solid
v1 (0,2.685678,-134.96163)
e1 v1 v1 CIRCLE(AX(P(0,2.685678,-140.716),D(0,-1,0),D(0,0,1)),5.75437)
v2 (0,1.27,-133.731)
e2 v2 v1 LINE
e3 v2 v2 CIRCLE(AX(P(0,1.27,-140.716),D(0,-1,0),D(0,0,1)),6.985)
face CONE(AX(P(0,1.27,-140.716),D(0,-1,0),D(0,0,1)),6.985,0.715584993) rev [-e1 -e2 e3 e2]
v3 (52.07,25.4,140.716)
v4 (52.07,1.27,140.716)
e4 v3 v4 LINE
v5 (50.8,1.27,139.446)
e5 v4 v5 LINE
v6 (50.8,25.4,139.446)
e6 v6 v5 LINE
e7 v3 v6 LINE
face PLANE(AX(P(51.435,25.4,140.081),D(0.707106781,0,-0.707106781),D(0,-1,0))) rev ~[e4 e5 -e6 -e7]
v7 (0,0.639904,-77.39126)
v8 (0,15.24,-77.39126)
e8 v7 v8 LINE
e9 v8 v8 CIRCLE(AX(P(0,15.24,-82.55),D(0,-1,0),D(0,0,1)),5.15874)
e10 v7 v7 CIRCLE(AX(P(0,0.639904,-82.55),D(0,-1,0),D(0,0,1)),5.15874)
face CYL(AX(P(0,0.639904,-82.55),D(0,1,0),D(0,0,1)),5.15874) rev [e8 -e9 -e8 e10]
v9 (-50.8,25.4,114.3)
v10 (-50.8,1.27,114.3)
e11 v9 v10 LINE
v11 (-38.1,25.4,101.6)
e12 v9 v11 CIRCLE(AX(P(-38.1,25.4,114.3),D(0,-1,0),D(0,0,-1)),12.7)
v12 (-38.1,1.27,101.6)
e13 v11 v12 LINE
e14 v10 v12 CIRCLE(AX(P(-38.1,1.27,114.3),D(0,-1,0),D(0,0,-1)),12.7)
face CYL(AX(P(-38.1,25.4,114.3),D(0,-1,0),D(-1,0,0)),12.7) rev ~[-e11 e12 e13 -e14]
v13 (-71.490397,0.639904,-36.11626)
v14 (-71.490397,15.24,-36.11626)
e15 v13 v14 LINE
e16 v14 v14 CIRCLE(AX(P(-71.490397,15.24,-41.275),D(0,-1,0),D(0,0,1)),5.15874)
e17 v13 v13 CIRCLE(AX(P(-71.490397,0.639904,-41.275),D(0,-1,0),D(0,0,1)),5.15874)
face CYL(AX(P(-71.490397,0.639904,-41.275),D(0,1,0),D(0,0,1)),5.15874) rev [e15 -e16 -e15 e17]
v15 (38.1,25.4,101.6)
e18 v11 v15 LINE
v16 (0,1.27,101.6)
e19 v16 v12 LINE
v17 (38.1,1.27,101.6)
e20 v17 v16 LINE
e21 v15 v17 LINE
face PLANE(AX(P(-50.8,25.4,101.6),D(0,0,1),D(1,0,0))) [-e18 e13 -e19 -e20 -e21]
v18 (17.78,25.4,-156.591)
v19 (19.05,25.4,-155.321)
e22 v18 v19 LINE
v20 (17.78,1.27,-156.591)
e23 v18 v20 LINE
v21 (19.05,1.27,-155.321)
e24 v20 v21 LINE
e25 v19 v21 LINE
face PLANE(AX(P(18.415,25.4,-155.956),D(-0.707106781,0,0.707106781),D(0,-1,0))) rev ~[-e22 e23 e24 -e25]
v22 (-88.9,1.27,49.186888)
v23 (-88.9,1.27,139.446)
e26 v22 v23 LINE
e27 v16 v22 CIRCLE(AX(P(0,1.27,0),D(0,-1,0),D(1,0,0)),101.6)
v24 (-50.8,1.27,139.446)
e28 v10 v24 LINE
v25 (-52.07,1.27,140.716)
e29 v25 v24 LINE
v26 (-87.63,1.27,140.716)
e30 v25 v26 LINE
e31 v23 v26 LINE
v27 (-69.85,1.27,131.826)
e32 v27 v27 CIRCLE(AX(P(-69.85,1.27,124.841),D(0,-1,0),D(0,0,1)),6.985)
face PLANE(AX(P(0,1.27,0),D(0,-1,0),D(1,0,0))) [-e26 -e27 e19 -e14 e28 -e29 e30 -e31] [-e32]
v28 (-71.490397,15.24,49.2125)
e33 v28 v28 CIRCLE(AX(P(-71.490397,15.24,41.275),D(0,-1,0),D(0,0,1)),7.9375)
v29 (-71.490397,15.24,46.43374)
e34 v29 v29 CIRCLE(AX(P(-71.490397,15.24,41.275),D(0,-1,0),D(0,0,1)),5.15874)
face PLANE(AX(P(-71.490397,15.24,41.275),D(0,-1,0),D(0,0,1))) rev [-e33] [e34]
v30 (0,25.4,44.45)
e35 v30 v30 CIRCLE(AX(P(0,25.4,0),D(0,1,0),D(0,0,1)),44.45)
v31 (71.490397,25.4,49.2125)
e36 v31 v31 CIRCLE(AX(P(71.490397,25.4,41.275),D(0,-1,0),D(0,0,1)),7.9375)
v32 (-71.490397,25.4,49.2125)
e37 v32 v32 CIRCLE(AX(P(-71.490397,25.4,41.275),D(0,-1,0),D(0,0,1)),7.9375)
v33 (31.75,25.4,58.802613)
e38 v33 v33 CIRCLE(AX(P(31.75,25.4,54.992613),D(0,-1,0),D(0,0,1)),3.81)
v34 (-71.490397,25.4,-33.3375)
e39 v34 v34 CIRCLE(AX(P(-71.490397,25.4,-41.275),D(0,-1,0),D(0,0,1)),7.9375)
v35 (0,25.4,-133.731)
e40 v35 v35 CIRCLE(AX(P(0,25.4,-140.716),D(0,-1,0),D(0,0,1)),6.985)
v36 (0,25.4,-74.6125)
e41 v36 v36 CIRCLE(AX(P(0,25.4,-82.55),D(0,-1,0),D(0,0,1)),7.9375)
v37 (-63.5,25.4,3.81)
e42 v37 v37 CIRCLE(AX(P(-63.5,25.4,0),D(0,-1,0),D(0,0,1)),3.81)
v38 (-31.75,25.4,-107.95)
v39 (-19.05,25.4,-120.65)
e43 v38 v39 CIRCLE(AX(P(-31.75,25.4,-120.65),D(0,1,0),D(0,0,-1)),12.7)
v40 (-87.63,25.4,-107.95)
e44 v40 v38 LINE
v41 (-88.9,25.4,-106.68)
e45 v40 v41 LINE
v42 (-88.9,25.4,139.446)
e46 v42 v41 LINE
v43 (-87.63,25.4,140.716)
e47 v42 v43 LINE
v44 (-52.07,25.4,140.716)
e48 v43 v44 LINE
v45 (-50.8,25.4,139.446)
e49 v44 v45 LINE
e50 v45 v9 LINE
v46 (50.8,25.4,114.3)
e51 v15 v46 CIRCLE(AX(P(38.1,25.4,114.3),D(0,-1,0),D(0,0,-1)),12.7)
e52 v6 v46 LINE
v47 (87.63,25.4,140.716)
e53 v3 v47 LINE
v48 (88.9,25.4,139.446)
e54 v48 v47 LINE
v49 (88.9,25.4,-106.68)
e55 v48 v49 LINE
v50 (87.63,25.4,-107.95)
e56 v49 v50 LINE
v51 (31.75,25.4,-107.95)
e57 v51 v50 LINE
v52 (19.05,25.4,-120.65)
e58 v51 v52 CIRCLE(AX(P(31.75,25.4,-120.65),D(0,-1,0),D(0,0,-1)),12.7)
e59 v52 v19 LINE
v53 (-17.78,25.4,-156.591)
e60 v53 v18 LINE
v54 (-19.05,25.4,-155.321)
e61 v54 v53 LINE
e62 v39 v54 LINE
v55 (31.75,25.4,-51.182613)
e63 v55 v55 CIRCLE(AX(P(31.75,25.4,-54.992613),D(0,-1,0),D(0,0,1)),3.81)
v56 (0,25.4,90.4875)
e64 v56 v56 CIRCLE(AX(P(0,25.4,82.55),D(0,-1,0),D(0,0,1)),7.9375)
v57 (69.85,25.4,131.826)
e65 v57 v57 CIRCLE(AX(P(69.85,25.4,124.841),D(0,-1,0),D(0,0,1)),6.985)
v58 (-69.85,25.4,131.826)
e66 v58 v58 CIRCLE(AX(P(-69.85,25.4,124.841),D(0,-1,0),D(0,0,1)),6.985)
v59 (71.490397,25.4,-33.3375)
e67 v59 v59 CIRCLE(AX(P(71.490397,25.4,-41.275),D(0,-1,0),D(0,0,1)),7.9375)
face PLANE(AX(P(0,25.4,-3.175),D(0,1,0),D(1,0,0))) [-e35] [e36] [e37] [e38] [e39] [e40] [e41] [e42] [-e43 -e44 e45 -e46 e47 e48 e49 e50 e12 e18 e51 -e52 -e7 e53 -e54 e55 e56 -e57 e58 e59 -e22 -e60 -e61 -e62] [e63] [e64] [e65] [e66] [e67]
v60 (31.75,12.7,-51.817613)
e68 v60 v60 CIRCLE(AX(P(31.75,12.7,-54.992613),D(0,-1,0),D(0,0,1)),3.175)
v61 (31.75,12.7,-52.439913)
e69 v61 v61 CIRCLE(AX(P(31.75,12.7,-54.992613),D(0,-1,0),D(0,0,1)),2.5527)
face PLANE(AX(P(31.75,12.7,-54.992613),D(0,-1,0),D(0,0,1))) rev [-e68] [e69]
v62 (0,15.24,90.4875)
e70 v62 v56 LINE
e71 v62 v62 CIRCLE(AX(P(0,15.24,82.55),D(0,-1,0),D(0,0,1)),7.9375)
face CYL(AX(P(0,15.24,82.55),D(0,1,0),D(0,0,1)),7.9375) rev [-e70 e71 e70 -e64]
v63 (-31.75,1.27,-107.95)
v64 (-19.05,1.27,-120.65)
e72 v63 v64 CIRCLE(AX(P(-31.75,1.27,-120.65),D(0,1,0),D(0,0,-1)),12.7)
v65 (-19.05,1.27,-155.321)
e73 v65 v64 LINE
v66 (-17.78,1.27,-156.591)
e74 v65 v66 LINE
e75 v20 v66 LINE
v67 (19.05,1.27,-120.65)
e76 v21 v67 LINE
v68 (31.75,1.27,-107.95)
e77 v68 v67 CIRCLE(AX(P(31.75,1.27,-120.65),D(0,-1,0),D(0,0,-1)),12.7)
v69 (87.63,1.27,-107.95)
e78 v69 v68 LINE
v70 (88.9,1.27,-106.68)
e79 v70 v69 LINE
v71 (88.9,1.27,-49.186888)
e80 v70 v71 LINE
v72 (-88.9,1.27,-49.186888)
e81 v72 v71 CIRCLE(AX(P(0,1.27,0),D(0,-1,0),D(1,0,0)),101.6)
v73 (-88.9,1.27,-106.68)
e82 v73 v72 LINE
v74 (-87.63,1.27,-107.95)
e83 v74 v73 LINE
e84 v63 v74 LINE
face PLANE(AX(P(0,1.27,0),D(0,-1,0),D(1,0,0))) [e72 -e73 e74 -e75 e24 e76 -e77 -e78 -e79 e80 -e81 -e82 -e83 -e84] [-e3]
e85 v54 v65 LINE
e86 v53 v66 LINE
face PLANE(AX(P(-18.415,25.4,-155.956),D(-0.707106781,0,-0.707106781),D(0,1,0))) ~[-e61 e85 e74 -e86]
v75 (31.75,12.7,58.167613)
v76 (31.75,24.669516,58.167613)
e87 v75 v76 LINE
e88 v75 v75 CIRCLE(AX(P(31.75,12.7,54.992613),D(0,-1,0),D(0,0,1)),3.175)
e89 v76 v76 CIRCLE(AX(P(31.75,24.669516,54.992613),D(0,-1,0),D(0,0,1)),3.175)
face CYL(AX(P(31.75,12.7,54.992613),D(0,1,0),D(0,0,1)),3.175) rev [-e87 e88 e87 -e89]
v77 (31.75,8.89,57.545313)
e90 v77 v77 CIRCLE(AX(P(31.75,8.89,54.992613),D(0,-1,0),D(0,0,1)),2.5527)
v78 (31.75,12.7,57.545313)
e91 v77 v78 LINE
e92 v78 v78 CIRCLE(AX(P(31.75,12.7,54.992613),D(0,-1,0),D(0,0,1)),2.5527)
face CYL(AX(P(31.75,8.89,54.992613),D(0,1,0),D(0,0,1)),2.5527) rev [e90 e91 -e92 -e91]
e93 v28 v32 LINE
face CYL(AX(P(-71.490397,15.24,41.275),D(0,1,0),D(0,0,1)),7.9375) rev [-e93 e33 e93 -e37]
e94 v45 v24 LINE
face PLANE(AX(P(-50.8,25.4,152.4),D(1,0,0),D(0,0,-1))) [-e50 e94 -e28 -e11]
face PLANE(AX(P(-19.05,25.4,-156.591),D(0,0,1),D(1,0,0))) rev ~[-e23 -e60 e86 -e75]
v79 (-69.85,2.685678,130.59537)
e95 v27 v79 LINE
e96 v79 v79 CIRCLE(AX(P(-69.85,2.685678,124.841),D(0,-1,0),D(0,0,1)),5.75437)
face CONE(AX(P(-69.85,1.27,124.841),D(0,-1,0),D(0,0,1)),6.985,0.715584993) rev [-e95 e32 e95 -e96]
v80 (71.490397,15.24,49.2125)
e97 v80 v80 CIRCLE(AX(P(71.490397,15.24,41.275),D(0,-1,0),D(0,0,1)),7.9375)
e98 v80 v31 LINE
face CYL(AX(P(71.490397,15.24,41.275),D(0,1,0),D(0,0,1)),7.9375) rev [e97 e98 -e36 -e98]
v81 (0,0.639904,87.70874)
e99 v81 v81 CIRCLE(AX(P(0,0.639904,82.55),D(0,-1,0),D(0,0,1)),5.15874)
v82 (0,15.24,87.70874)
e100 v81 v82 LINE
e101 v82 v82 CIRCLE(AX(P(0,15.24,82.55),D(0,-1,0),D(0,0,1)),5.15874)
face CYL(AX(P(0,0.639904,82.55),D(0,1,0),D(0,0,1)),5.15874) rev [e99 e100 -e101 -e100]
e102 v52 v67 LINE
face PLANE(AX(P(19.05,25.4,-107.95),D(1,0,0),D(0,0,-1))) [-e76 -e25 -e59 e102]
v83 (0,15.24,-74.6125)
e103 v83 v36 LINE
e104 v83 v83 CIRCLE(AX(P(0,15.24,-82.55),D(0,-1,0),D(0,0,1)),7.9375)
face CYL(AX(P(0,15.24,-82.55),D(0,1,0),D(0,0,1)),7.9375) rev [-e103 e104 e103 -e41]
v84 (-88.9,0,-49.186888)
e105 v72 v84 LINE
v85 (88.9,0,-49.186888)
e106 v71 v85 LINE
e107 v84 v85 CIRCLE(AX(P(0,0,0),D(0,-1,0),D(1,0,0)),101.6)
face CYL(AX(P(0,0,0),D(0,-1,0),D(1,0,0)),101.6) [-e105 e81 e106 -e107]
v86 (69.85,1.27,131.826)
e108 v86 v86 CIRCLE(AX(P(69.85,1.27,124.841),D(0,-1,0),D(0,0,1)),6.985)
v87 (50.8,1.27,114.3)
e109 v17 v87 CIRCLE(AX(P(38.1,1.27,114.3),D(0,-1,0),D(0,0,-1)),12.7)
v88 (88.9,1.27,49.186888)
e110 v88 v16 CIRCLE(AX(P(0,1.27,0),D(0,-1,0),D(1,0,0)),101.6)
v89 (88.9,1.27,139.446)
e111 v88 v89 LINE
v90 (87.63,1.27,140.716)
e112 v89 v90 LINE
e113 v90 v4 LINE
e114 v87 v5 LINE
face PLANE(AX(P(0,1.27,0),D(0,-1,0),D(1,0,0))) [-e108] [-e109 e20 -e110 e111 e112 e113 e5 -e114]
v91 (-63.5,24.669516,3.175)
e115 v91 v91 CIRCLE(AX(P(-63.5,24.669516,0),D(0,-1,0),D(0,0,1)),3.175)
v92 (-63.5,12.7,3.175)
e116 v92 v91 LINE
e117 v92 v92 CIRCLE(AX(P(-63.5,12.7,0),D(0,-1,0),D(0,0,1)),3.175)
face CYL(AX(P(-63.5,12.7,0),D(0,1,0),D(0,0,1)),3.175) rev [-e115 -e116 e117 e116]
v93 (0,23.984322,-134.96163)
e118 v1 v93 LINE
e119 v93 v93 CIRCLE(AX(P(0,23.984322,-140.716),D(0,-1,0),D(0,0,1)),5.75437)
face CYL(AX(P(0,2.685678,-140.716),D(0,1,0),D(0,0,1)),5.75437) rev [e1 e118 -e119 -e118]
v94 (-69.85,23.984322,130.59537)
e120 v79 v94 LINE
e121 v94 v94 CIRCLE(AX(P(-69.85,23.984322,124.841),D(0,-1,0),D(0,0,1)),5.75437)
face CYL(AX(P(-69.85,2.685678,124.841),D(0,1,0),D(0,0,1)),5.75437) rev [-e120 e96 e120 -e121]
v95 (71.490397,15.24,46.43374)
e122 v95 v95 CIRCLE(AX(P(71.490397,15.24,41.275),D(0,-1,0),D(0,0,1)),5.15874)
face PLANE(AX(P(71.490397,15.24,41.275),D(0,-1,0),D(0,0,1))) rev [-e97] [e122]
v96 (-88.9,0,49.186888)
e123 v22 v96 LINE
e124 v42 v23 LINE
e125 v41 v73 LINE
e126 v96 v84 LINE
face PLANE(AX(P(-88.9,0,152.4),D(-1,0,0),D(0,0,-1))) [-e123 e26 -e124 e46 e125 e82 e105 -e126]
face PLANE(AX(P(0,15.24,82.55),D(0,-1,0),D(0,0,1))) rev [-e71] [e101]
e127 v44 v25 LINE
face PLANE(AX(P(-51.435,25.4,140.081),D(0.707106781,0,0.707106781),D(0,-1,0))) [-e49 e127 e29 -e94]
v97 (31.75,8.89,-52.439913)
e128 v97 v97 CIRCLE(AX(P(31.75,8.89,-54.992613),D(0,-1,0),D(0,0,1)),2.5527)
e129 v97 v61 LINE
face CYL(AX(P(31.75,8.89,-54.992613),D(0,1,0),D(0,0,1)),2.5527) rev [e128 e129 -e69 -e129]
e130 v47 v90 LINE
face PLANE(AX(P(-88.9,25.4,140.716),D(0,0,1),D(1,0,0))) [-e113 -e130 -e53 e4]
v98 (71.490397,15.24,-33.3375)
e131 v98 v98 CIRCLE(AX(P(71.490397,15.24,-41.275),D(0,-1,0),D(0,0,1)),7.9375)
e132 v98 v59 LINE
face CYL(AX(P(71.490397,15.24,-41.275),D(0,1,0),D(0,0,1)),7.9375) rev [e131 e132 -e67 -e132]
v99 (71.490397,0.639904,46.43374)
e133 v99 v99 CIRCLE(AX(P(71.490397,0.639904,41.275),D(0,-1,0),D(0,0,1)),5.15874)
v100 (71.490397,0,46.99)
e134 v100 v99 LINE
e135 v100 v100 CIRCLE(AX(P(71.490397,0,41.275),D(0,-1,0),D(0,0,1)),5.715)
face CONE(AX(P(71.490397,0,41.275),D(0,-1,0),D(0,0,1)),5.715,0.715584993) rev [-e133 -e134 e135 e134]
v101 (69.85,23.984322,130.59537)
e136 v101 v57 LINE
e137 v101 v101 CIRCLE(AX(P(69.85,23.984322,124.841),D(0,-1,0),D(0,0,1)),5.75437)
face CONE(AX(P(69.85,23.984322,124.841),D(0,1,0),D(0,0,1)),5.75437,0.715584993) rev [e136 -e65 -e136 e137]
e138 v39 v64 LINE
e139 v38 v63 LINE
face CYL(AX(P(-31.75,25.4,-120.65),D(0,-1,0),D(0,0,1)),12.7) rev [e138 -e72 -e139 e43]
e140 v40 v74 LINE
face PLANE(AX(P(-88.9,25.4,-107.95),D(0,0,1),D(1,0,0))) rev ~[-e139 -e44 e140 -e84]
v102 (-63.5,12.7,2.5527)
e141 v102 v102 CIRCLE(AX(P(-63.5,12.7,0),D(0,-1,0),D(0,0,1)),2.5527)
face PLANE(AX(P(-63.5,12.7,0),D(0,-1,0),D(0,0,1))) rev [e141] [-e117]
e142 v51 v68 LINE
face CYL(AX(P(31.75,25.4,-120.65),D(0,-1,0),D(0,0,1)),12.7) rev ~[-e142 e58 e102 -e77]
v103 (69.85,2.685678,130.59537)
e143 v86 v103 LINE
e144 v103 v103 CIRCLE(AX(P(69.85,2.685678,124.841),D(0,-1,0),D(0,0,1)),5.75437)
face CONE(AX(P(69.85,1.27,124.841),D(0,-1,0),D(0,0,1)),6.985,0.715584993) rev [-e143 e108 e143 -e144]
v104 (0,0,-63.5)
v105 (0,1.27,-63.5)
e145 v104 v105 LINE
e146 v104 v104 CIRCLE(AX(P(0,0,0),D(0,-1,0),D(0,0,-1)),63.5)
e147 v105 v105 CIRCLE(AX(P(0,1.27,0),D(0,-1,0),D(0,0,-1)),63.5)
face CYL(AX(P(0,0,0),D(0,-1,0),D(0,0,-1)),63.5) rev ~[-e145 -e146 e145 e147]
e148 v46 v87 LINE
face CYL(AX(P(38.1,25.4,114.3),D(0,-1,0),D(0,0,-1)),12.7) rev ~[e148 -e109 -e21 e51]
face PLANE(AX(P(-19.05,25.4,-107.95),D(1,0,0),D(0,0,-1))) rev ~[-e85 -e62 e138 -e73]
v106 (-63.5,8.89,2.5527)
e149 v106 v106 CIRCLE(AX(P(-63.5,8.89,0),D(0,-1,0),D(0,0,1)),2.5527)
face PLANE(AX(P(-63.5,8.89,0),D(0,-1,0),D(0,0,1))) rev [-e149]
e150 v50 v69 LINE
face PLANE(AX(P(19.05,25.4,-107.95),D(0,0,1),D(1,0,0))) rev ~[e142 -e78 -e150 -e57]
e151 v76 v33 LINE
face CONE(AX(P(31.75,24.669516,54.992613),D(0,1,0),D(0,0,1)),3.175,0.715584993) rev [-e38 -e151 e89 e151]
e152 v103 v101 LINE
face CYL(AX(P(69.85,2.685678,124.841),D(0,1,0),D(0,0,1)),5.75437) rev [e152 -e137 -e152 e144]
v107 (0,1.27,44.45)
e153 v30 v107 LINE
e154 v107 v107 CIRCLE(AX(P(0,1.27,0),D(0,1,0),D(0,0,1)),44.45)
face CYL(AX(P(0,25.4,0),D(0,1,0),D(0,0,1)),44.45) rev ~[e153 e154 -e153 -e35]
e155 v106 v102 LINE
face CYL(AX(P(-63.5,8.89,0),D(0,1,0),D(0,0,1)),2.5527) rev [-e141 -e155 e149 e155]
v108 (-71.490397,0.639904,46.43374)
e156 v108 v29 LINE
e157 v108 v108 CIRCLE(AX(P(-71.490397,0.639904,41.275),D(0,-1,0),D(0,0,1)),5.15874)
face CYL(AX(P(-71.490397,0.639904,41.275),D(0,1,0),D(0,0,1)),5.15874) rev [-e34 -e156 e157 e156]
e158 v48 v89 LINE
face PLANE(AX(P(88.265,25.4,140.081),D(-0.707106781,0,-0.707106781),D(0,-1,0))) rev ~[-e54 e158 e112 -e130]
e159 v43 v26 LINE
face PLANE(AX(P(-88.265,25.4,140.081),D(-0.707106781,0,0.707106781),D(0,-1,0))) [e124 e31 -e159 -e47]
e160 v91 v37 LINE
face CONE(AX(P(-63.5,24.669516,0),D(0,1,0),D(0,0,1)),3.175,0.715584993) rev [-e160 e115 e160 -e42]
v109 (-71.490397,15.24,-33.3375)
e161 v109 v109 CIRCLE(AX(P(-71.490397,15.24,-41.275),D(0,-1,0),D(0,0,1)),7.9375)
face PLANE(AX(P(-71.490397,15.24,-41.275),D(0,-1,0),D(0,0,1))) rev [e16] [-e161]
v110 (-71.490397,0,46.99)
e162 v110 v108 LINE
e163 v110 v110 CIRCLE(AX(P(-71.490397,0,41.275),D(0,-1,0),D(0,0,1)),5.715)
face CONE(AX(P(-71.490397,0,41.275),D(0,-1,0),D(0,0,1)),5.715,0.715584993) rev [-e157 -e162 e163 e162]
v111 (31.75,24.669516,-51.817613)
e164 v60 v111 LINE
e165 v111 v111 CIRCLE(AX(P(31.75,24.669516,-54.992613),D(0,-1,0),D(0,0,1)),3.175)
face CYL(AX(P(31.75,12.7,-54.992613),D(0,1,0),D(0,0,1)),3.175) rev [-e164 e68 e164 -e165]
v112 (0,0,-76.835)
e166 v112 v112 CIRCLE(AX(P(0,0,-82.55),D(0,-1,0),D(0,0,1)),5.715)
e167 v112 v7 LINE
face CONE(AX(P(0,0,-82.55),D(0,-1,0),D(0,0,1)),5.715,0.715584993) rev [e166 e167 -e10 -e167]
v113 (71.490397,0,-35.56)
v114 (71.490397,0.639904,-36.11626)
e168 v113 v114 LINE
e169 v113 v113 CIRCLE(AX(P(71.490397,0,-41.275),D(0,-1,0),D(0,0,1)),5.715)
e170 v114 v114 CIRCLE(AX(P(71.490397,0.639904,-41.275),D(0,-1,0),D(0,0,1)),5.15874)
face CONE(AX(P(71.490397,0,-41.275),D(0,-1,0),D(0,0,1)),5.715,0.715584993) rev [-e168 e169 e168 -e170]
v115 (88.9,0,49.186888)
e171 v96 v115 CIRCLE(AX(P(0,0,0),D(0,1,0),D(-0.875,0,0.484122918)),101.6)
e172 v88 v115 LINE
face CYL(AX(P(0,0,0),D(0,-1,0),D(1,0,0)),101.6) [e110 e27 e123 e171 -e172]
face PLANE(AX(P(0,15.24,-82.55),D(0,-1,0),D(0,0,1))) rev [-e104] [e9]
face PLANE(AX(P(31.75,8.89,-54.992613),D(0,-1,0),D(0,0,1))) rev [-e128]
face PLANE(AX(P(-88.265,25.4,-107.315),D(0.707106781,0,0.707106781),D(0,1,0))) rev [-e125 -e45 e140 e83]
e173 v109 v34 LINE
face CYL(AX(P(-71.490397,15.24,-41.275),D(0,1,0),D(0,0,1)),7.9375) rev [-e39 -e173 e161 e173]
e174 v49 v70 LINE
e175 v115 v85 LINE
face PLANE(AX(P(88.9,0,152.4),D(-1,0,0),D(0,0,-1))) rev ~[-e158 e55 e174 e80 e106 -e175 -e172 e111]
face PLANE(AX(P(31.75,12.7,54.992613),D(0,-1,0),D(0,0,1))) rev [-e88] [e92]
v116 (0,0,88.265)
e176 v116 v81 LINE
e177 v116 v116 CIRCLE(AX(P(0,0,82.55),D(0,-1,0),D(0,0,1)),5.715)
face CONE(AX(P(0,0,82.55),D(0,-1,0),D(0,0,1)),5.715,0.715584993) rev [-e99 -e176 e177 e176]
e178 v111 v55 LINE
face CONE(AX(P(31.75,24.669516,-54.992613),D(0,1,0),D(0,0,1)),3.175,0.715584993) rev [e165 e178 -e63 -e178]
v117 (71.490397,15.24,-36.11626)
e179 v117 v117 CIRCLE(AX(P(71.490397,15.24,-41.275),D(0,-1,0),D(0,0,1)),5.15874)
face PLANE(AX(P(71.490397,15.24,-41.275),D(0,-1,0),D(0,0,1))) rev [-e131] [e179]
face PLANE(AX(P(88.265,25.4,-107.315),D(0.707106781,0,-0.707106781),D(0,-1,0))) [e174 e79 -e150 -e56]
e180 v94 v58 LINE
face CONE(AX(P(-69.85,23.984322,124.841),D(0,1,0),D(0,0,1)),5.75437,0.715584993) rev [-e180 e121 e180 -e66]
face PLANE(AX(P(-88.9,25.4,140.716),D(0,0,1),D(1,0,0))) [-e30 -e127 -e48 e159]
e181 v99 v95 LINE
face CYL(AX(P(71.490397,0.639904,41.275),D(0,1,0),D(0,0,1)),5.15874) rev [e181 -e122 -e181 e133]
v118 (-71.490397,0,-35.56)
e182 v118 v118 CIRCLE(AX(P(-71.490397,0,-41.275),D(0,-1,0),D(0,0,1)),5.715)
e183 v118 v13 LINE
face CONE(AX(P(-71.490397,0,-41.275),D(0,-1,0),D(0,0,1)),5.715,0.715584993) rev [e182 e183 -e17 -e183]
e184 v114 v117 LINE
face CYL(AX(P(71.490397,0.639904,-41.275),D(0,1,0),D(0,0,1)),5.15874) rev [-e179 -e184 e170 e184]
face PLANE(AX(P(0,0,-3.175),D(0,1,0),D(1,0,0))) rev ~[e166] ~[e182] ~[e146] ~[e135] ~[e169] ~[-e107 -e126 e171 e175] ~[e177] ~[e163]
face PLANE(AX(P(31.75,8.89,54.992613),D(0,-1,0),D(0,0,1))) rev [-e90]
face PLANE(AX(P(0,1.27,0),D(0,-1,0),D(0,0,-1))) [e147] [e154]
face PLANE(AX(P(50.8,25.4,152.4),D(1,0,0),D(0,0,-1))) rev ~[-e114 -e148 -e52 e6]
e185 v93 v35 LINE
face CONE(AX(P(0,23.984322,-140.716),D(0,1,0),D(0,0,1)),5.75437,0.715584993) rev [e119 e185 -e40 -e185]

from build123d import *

# Parameters (mm, degrees)
SKETCH1_W                                     = 177.8
SKETCH1_H                                     = 311.15
EXTRUDE1_DEPTH                                = 25.4
CBORE_FOR_3_8_SOCKET_HEAD_CAP_SCREW1_AT_COUNT = 2
CBORE_FOR_3_8_SOCKET_HEAD_CAP_SCREW1_AT_PITCH = 142.980794165
CBORE_FOR_3_8_SOCKET_HEAD_CAP_SCREW1_2_COUNT  = 2
CBORE_FOR_3_8_SOCKET_HEAD_CAP_SCREW1_2_PITCH  = 82.55
CBORE_FOR_3_8_SOCKET_HEAD_CAP_SCREW1_3_COUNT  = 2
CBORE_FOR_3_8_SOCKET_HEAD_CAP_SCREW1_3_PITCH  = 142.980794165
CBORE_FOR_3_8_SOCKET_HEAD_CAP_SCREW1_4_COUNT  = 2
CBORE_FOR_3_8_SOCKET_HEAD_CAP_SCREW1_4_PITCH  = 165.1
CBORE_FOR_3_8_SOCKET_HEAD_CAP_SCREW1_5_COUNT  = 2
CBORE_FOR_3_8_SOCKET_HEAD_CAP_SCREW1_5_PITCH  = 82.55
SKETCH4_R                                     = 44.45
CUT_EXTRUDE1_DEPTH                            = 26.4
SKETCH8_R                                     = 63.5
CUT_EXTRUDE4_DEPTH                            = 1.27
SKETCH9_R                                     = 181.94716953
SKETCH9_R_2                                   = 101.6
CUT_EXTRUDE5_DEPTH                            = 1.27
F_1_4_20_TAPPED_HOLE1_AT_2_COUNT              = 2
F_1_4_20_TAPPED_HOLE1_AT_2_PITCH              = 109.985226281
F_1_4_20_TAPPED_HOLE1_AT_3_COUNT              = 2
F_1_4_20_TAPPED_HOLE1_AT_3_PITCH              = 109.985226281
SKETCH18_W                                    = 69.85
SKETCH18_H                                    = 50.8
SKETCH18_W_2                                  = 101.6
CUT_EXTRUDE7_DEPTH                            = 26.4
SKETCH19_W                                    = 38.1
SKETCH19_H                                    = 2.159
SKETCH19_W_2                                  = 177.8
SKETCH19_H_2                                  = 11.684
CUT_EXTRUDE8_DEPTH                            = 26.4
F_1_2_20_TAPPED_HOLE1_AT_2_COUNT              = 2
F_1_2_20_TAPPED_HOLE1_AT_2_PITCH              = 274.589771749
F_1_2_20_TAPPED_HOLE1_AT_3_COUNT              = 2
F_1_2_20_TAPPED_HOLE1_AT_3_PITCH              = 274.589771749
FILLET2_R                                     = 12.7
CHAMFER1_SIZE                                 = 1.27


with BuildPart() as part:
    # Sketch1 → Extrude1 (new body)
    with BuildSketch(Plane(origin=(0, 0, 0), x_dir=(1, 0, 0), z_dir=(0, 1, 0))):
        with Locations((0, 3.175)):
            Rectangle(SKETCH1_W, SKETCH1_H)
    extrude(amount=EXTRUDE1_DEPTH)

    # Sketch2 → CBORE for 3_8 Socket Head Cap Screw1 (revolve, cut)
    with BuildSketch(Plane(origin=(-71.490397082, 25.4, -41.275), x_dir=(0, 0, 1), z_dir=(1, 0, 0))):
        Polygon((0, 0), (0, 25.4), (5.715, 25.4), (5.15874, 24.76009607), (5.15874, 10.16), (7.9375, 10.16), (7.9375, 0), align=None)
    cbore_for_3_8_socket_head_cap_screw1 = revolve(axis=Axis((-71.490397082, 31.75, -41.275), (0, -1, 0)), mode=Mode.SUBTRACT)

    # CBORE for 3_8 Socket Head Cap Screw1 at: CBORE for 3_8 Socket Head Cap Screw1 ×2
    with Locations(*[Vector(0.5, 0, 0.866025404) * (i * CBORE_FOR_3_8_SOCKET_HEAD_CAP_SCREW1_AT_PITCH) for i in range(1, CBORE_FOR_3_8_SOCKET_HEAD_CAP_SCREW1_AT_COUNT)]):
        add(cbore_for_3_8_socket_head_cap_screw1, mode=Mode.SUBTRACT)

    # CBORE for 3_8 Socket Head Cap Screw1 2: CBORE for 3_8 Socket Head Cap Screw1 ×2
    with Locations(*[Vector(0.866025404, 0, -0.5) * (i * CBORE_FOR_3_8_SOCKET_HEAD_CAP_SCREW1_2_PITCH) for i in range(1, CBORE_FOR_3_8_SOCKET_HEAD_CAP_SCREW1_2_COUNT)]):
        add(cbore_for_3_8_socket_head_cap_screw1, mode=Mode.SUBTRACT)

    # CBORE for 3_8 Socket Head Cap Screw1 3: CBORE for 3_8 Socket Head Cap Screw1 ×2
    with Locations(*[(i * CBORE_FOR_3_8_SOCKET_HEAD_CAP_SCREW1_3_PITCH, 0, 0) for i in range(1, CBORE_FOR_3_8_SOCKET_HEAD_CAP_SCREW1_3_COUNT)]):
        add(cbore_for_3_8_socket_head_cap_screw1, mode=Mode.SUBTRACT)

    # CBORE for 3_8 Socket Head Cap Screw1 4: CBORE for 3_8 Socket Head Cap Screw1 ×2
    with Locations(*[Vector(0.866025404, 0, 0.5) * (i * CBORE_FOR_3_8_SOCKET_HEAD_CAP_SCREW1_4_PITCH) for i in range(1, CBORE_FOR_3_8_SOCKET_HEAD_CAP_SCREW1_4_COUNT)]):
        add(cbore_for_3_8_socket_head_cap_screw1, mode=Mode.SUBTRACT)

    # CBORE for 3_8 Socket Head Cap Screw1 5: CBORE for 3_8 Socket Head Cap Screw1 ×2
    with Locations(*[(0, 0, i * CBORE_FOR_3_8_SOCKET_HEAD_CAP_SCREW1_5_PITCH) for i in range(1, CBORE_FOR_3_8_SOCKET_HEAD_CAP_SCREW1_5_COUNT)]):
        add(cbore_for_3_8_socket_head_cap_screw1, mode=Mode.SUBTRACT)

    # Sketch4 → Cut-Extrude1 (cut, through all)
    with BuildSketch(Plane(origin=(0, 25.4, 0), x_dir=(1, 0, 0), z_dir=(0, 1, 0))):
        with Locations(Location((0, 0, 0), (0, 0, 270))):  # turned: the seam where the file's is
            Circle(SKETCH4_R)
    extrude(amount=-CUT_EXTRUDE1_DEPTH, mode=Mode.SUBTRACT)

    # Sketch8 → Cut-Extrude4 (cut)
    with BuildSketch(Plane.XZ):
        with Locations(Location((0, 0, 0), (0, 0, 270))):  # turned: the seam where the file's is
            Circle(SKETCH8_R)
    extrude(amount=-CUT_EXTRUDE4_DEPTH, mode=Mode.SUBTRACT)

    # Sketch9 → Cut-Extrude5 (cut)
    with BuildSketch(Plane.XZ):
        Circle(SKETCH9_R)
        Circle(SKETCH9_R_2, mode=Mode.SUBTRACT)
    extrude(amount=-CUT_EXTRUDE5_DEPTH, mode=Mode.SUBTRACT)

    # Sketch10 → 1_4-20 Tapped Hole1 (revolve, cut)
    with BuildSketch(Plane(origin=(-63.5, 25.4, 0), x_dir=(0, 0, 1), z_dir=(1, 0, 0))):
        Polygon((0, 0), (0, 16.51), (2.5527, 16.51), (2.5527, 12.7), (3.175, 12.7), (3.175, 0.730483939), (3.81, 0), align=None)
    f_1_4_20_tapped_hole1 = revolve(axis=Axis((-63.5, 31.75, 0), (0, -1, 0)), mode=Mode.SUBTRACT)

    # 1_4-20 Tapped Hole1 at 2: 1_4-20 Tapped Hole1 ×2
    with Locations(*[Vector(0.866025404, 0, 0.5) * (i * F_1_4_20_TAPPED_HOLE1_AT_2_PITCH) for i in range(1, F_1_4_20_TAPPED_HOLE1_AT_2_COUNT)]):
        add(f_1_4_20_tapped_hole1, mode=Mode.SUBTRACT)

    # 1_4-20 Tapped Hole1 at 3: 1_4-20 Tapped Hole1 ×2
    with Locations(*[Vector(0.866025404, 0, -0.5) * (i * F_1_4_20_TAPPED_HOLE1_AT_3_PITCH) for i in range(1, F_1_4_20_TAPPED_HOLE1_AT_3_COUNT)]):
        add(f_1_4_20_tapped_hole1, mode=Mode.SUBTRACT)

    # Sketch18 → Cut-Extrude7 (cut, through all)
    with BuildSketch(Plane(origin=(0, 25.4, 0), x_dir=(1, 0, 0), z_dir=(0, 1, 0))):
        with Locations((53.975, 133.35)):
            Rectangle(SKETCH18_W, SKETCH18_H)
        with Locations((-53.975, 133.35)):
            Rectangle(SKETCH18_W, SKETCH18_H)
        with Locations((0, -127)):
            Rectangle(SKETCH18_W_2, SKETCH18_H)
    extrude(amount=-CUT_EXTRUDE7_DEPTH, mode=Mode.SUBTRACT)

    # Sketch19 → Cut-Extrude8 (cut, through all)
    with BuildSketch(Plane(origin=(0, 25.4, 0), x_dir=(1, 0, 0), z_dir=(0, 1, 0))):
        with Locations((0, 157.6705)):
            Rectangle(SKETCH19_W, SKETCH19_H)
        with Locations((0, -146.558)):
            Rectangle(SKETCH19_W_2, SKETCH19_H_2)
    extrude(amount=-CUT_EXTRUDE8_DEPTH, mode=Mode.SUBTRACT)

    # Sketch14 → 1_2-20 Tapped Hole1 (revolve, cut)
    with BuildSketch(Plane(origin=(0, 25.4, -140.716), x_dir=(0, 0, 1), z_dir=(1, 0, 0))):
        Polygon((0, 0), (0, 24.13), (6.985, 24.13), (5.75437, 22.714322127), (5.75437, 1.415677873), (6.985, 0), align=None)
    f_1_2_20_tapped_hole1 = revolve(axis=Axis((0, 31.75, -140.716), (0, -1, 0)), mode=Mode.SUBTRACT)

    # 1_2-20 Tapped Hole1 at 2: 1_2-20 Tapped Hole1 ×2
    with Locations(*[Vector(0.254379468, 0, 0.967104486) * (i * F_1_2_20_TAPPED_HOLE1_AT_2_PITCH) for i in range(1, F_1_2_20_TAPPED_HOLE1_AT_2_COUNT)]):
        add(f_1_2_20_tapped_hole1, mode=Mode.SUBTRACT)

    # 1_2-20 Tapped Hole1 at 3: 1_2-20 Tapped Hole1 ×2
    with Locations(*[Vector(-0.254379468, 0, 0.967104486) * (i * F_1_2_20_TAPPED_HOLE1_AT_3_PITCH) for i in range(1, F_1_2_20_TAPPED_HOLE1_AT_3_COUNT)]):
        add(f_1_2_20_tapped_hole1, mode=Mode.SUBTRACT)

    # Fillet2
    fillet2_edges = [part.edges().sort_by_distance(p)[0] for p in [
        (19.05, 13.335, -107.95),
        (-19.05, 13.335, -107.95),
        (-50.8, 13.335, 101.6),
        (50.8, 13.335, 101.6),
    ]]
    fillet(fillet2_edges, radius=FILLET2_R)

    # Chamfer1
    chamfer1_edges = [part.edges().sort_by_distance(p)[0] for p in [
        (88.9, 13.335, -107.95),
        (-88.9, 13.335, -107.95),
        (-19.05, 13.335, -156.591),
        (19.05, 13.335, -156.591),
        (50.8, 13.335, 140.716),
        (-88.9, 13.335, 140.716),
        (-50.8, 13.335, 140.716),
        (88.9, 13.335, 140.716),
    ]]
    chamfer(chamfer1_edges, length=CHAMFER1_SIZE)


solid = part.part
